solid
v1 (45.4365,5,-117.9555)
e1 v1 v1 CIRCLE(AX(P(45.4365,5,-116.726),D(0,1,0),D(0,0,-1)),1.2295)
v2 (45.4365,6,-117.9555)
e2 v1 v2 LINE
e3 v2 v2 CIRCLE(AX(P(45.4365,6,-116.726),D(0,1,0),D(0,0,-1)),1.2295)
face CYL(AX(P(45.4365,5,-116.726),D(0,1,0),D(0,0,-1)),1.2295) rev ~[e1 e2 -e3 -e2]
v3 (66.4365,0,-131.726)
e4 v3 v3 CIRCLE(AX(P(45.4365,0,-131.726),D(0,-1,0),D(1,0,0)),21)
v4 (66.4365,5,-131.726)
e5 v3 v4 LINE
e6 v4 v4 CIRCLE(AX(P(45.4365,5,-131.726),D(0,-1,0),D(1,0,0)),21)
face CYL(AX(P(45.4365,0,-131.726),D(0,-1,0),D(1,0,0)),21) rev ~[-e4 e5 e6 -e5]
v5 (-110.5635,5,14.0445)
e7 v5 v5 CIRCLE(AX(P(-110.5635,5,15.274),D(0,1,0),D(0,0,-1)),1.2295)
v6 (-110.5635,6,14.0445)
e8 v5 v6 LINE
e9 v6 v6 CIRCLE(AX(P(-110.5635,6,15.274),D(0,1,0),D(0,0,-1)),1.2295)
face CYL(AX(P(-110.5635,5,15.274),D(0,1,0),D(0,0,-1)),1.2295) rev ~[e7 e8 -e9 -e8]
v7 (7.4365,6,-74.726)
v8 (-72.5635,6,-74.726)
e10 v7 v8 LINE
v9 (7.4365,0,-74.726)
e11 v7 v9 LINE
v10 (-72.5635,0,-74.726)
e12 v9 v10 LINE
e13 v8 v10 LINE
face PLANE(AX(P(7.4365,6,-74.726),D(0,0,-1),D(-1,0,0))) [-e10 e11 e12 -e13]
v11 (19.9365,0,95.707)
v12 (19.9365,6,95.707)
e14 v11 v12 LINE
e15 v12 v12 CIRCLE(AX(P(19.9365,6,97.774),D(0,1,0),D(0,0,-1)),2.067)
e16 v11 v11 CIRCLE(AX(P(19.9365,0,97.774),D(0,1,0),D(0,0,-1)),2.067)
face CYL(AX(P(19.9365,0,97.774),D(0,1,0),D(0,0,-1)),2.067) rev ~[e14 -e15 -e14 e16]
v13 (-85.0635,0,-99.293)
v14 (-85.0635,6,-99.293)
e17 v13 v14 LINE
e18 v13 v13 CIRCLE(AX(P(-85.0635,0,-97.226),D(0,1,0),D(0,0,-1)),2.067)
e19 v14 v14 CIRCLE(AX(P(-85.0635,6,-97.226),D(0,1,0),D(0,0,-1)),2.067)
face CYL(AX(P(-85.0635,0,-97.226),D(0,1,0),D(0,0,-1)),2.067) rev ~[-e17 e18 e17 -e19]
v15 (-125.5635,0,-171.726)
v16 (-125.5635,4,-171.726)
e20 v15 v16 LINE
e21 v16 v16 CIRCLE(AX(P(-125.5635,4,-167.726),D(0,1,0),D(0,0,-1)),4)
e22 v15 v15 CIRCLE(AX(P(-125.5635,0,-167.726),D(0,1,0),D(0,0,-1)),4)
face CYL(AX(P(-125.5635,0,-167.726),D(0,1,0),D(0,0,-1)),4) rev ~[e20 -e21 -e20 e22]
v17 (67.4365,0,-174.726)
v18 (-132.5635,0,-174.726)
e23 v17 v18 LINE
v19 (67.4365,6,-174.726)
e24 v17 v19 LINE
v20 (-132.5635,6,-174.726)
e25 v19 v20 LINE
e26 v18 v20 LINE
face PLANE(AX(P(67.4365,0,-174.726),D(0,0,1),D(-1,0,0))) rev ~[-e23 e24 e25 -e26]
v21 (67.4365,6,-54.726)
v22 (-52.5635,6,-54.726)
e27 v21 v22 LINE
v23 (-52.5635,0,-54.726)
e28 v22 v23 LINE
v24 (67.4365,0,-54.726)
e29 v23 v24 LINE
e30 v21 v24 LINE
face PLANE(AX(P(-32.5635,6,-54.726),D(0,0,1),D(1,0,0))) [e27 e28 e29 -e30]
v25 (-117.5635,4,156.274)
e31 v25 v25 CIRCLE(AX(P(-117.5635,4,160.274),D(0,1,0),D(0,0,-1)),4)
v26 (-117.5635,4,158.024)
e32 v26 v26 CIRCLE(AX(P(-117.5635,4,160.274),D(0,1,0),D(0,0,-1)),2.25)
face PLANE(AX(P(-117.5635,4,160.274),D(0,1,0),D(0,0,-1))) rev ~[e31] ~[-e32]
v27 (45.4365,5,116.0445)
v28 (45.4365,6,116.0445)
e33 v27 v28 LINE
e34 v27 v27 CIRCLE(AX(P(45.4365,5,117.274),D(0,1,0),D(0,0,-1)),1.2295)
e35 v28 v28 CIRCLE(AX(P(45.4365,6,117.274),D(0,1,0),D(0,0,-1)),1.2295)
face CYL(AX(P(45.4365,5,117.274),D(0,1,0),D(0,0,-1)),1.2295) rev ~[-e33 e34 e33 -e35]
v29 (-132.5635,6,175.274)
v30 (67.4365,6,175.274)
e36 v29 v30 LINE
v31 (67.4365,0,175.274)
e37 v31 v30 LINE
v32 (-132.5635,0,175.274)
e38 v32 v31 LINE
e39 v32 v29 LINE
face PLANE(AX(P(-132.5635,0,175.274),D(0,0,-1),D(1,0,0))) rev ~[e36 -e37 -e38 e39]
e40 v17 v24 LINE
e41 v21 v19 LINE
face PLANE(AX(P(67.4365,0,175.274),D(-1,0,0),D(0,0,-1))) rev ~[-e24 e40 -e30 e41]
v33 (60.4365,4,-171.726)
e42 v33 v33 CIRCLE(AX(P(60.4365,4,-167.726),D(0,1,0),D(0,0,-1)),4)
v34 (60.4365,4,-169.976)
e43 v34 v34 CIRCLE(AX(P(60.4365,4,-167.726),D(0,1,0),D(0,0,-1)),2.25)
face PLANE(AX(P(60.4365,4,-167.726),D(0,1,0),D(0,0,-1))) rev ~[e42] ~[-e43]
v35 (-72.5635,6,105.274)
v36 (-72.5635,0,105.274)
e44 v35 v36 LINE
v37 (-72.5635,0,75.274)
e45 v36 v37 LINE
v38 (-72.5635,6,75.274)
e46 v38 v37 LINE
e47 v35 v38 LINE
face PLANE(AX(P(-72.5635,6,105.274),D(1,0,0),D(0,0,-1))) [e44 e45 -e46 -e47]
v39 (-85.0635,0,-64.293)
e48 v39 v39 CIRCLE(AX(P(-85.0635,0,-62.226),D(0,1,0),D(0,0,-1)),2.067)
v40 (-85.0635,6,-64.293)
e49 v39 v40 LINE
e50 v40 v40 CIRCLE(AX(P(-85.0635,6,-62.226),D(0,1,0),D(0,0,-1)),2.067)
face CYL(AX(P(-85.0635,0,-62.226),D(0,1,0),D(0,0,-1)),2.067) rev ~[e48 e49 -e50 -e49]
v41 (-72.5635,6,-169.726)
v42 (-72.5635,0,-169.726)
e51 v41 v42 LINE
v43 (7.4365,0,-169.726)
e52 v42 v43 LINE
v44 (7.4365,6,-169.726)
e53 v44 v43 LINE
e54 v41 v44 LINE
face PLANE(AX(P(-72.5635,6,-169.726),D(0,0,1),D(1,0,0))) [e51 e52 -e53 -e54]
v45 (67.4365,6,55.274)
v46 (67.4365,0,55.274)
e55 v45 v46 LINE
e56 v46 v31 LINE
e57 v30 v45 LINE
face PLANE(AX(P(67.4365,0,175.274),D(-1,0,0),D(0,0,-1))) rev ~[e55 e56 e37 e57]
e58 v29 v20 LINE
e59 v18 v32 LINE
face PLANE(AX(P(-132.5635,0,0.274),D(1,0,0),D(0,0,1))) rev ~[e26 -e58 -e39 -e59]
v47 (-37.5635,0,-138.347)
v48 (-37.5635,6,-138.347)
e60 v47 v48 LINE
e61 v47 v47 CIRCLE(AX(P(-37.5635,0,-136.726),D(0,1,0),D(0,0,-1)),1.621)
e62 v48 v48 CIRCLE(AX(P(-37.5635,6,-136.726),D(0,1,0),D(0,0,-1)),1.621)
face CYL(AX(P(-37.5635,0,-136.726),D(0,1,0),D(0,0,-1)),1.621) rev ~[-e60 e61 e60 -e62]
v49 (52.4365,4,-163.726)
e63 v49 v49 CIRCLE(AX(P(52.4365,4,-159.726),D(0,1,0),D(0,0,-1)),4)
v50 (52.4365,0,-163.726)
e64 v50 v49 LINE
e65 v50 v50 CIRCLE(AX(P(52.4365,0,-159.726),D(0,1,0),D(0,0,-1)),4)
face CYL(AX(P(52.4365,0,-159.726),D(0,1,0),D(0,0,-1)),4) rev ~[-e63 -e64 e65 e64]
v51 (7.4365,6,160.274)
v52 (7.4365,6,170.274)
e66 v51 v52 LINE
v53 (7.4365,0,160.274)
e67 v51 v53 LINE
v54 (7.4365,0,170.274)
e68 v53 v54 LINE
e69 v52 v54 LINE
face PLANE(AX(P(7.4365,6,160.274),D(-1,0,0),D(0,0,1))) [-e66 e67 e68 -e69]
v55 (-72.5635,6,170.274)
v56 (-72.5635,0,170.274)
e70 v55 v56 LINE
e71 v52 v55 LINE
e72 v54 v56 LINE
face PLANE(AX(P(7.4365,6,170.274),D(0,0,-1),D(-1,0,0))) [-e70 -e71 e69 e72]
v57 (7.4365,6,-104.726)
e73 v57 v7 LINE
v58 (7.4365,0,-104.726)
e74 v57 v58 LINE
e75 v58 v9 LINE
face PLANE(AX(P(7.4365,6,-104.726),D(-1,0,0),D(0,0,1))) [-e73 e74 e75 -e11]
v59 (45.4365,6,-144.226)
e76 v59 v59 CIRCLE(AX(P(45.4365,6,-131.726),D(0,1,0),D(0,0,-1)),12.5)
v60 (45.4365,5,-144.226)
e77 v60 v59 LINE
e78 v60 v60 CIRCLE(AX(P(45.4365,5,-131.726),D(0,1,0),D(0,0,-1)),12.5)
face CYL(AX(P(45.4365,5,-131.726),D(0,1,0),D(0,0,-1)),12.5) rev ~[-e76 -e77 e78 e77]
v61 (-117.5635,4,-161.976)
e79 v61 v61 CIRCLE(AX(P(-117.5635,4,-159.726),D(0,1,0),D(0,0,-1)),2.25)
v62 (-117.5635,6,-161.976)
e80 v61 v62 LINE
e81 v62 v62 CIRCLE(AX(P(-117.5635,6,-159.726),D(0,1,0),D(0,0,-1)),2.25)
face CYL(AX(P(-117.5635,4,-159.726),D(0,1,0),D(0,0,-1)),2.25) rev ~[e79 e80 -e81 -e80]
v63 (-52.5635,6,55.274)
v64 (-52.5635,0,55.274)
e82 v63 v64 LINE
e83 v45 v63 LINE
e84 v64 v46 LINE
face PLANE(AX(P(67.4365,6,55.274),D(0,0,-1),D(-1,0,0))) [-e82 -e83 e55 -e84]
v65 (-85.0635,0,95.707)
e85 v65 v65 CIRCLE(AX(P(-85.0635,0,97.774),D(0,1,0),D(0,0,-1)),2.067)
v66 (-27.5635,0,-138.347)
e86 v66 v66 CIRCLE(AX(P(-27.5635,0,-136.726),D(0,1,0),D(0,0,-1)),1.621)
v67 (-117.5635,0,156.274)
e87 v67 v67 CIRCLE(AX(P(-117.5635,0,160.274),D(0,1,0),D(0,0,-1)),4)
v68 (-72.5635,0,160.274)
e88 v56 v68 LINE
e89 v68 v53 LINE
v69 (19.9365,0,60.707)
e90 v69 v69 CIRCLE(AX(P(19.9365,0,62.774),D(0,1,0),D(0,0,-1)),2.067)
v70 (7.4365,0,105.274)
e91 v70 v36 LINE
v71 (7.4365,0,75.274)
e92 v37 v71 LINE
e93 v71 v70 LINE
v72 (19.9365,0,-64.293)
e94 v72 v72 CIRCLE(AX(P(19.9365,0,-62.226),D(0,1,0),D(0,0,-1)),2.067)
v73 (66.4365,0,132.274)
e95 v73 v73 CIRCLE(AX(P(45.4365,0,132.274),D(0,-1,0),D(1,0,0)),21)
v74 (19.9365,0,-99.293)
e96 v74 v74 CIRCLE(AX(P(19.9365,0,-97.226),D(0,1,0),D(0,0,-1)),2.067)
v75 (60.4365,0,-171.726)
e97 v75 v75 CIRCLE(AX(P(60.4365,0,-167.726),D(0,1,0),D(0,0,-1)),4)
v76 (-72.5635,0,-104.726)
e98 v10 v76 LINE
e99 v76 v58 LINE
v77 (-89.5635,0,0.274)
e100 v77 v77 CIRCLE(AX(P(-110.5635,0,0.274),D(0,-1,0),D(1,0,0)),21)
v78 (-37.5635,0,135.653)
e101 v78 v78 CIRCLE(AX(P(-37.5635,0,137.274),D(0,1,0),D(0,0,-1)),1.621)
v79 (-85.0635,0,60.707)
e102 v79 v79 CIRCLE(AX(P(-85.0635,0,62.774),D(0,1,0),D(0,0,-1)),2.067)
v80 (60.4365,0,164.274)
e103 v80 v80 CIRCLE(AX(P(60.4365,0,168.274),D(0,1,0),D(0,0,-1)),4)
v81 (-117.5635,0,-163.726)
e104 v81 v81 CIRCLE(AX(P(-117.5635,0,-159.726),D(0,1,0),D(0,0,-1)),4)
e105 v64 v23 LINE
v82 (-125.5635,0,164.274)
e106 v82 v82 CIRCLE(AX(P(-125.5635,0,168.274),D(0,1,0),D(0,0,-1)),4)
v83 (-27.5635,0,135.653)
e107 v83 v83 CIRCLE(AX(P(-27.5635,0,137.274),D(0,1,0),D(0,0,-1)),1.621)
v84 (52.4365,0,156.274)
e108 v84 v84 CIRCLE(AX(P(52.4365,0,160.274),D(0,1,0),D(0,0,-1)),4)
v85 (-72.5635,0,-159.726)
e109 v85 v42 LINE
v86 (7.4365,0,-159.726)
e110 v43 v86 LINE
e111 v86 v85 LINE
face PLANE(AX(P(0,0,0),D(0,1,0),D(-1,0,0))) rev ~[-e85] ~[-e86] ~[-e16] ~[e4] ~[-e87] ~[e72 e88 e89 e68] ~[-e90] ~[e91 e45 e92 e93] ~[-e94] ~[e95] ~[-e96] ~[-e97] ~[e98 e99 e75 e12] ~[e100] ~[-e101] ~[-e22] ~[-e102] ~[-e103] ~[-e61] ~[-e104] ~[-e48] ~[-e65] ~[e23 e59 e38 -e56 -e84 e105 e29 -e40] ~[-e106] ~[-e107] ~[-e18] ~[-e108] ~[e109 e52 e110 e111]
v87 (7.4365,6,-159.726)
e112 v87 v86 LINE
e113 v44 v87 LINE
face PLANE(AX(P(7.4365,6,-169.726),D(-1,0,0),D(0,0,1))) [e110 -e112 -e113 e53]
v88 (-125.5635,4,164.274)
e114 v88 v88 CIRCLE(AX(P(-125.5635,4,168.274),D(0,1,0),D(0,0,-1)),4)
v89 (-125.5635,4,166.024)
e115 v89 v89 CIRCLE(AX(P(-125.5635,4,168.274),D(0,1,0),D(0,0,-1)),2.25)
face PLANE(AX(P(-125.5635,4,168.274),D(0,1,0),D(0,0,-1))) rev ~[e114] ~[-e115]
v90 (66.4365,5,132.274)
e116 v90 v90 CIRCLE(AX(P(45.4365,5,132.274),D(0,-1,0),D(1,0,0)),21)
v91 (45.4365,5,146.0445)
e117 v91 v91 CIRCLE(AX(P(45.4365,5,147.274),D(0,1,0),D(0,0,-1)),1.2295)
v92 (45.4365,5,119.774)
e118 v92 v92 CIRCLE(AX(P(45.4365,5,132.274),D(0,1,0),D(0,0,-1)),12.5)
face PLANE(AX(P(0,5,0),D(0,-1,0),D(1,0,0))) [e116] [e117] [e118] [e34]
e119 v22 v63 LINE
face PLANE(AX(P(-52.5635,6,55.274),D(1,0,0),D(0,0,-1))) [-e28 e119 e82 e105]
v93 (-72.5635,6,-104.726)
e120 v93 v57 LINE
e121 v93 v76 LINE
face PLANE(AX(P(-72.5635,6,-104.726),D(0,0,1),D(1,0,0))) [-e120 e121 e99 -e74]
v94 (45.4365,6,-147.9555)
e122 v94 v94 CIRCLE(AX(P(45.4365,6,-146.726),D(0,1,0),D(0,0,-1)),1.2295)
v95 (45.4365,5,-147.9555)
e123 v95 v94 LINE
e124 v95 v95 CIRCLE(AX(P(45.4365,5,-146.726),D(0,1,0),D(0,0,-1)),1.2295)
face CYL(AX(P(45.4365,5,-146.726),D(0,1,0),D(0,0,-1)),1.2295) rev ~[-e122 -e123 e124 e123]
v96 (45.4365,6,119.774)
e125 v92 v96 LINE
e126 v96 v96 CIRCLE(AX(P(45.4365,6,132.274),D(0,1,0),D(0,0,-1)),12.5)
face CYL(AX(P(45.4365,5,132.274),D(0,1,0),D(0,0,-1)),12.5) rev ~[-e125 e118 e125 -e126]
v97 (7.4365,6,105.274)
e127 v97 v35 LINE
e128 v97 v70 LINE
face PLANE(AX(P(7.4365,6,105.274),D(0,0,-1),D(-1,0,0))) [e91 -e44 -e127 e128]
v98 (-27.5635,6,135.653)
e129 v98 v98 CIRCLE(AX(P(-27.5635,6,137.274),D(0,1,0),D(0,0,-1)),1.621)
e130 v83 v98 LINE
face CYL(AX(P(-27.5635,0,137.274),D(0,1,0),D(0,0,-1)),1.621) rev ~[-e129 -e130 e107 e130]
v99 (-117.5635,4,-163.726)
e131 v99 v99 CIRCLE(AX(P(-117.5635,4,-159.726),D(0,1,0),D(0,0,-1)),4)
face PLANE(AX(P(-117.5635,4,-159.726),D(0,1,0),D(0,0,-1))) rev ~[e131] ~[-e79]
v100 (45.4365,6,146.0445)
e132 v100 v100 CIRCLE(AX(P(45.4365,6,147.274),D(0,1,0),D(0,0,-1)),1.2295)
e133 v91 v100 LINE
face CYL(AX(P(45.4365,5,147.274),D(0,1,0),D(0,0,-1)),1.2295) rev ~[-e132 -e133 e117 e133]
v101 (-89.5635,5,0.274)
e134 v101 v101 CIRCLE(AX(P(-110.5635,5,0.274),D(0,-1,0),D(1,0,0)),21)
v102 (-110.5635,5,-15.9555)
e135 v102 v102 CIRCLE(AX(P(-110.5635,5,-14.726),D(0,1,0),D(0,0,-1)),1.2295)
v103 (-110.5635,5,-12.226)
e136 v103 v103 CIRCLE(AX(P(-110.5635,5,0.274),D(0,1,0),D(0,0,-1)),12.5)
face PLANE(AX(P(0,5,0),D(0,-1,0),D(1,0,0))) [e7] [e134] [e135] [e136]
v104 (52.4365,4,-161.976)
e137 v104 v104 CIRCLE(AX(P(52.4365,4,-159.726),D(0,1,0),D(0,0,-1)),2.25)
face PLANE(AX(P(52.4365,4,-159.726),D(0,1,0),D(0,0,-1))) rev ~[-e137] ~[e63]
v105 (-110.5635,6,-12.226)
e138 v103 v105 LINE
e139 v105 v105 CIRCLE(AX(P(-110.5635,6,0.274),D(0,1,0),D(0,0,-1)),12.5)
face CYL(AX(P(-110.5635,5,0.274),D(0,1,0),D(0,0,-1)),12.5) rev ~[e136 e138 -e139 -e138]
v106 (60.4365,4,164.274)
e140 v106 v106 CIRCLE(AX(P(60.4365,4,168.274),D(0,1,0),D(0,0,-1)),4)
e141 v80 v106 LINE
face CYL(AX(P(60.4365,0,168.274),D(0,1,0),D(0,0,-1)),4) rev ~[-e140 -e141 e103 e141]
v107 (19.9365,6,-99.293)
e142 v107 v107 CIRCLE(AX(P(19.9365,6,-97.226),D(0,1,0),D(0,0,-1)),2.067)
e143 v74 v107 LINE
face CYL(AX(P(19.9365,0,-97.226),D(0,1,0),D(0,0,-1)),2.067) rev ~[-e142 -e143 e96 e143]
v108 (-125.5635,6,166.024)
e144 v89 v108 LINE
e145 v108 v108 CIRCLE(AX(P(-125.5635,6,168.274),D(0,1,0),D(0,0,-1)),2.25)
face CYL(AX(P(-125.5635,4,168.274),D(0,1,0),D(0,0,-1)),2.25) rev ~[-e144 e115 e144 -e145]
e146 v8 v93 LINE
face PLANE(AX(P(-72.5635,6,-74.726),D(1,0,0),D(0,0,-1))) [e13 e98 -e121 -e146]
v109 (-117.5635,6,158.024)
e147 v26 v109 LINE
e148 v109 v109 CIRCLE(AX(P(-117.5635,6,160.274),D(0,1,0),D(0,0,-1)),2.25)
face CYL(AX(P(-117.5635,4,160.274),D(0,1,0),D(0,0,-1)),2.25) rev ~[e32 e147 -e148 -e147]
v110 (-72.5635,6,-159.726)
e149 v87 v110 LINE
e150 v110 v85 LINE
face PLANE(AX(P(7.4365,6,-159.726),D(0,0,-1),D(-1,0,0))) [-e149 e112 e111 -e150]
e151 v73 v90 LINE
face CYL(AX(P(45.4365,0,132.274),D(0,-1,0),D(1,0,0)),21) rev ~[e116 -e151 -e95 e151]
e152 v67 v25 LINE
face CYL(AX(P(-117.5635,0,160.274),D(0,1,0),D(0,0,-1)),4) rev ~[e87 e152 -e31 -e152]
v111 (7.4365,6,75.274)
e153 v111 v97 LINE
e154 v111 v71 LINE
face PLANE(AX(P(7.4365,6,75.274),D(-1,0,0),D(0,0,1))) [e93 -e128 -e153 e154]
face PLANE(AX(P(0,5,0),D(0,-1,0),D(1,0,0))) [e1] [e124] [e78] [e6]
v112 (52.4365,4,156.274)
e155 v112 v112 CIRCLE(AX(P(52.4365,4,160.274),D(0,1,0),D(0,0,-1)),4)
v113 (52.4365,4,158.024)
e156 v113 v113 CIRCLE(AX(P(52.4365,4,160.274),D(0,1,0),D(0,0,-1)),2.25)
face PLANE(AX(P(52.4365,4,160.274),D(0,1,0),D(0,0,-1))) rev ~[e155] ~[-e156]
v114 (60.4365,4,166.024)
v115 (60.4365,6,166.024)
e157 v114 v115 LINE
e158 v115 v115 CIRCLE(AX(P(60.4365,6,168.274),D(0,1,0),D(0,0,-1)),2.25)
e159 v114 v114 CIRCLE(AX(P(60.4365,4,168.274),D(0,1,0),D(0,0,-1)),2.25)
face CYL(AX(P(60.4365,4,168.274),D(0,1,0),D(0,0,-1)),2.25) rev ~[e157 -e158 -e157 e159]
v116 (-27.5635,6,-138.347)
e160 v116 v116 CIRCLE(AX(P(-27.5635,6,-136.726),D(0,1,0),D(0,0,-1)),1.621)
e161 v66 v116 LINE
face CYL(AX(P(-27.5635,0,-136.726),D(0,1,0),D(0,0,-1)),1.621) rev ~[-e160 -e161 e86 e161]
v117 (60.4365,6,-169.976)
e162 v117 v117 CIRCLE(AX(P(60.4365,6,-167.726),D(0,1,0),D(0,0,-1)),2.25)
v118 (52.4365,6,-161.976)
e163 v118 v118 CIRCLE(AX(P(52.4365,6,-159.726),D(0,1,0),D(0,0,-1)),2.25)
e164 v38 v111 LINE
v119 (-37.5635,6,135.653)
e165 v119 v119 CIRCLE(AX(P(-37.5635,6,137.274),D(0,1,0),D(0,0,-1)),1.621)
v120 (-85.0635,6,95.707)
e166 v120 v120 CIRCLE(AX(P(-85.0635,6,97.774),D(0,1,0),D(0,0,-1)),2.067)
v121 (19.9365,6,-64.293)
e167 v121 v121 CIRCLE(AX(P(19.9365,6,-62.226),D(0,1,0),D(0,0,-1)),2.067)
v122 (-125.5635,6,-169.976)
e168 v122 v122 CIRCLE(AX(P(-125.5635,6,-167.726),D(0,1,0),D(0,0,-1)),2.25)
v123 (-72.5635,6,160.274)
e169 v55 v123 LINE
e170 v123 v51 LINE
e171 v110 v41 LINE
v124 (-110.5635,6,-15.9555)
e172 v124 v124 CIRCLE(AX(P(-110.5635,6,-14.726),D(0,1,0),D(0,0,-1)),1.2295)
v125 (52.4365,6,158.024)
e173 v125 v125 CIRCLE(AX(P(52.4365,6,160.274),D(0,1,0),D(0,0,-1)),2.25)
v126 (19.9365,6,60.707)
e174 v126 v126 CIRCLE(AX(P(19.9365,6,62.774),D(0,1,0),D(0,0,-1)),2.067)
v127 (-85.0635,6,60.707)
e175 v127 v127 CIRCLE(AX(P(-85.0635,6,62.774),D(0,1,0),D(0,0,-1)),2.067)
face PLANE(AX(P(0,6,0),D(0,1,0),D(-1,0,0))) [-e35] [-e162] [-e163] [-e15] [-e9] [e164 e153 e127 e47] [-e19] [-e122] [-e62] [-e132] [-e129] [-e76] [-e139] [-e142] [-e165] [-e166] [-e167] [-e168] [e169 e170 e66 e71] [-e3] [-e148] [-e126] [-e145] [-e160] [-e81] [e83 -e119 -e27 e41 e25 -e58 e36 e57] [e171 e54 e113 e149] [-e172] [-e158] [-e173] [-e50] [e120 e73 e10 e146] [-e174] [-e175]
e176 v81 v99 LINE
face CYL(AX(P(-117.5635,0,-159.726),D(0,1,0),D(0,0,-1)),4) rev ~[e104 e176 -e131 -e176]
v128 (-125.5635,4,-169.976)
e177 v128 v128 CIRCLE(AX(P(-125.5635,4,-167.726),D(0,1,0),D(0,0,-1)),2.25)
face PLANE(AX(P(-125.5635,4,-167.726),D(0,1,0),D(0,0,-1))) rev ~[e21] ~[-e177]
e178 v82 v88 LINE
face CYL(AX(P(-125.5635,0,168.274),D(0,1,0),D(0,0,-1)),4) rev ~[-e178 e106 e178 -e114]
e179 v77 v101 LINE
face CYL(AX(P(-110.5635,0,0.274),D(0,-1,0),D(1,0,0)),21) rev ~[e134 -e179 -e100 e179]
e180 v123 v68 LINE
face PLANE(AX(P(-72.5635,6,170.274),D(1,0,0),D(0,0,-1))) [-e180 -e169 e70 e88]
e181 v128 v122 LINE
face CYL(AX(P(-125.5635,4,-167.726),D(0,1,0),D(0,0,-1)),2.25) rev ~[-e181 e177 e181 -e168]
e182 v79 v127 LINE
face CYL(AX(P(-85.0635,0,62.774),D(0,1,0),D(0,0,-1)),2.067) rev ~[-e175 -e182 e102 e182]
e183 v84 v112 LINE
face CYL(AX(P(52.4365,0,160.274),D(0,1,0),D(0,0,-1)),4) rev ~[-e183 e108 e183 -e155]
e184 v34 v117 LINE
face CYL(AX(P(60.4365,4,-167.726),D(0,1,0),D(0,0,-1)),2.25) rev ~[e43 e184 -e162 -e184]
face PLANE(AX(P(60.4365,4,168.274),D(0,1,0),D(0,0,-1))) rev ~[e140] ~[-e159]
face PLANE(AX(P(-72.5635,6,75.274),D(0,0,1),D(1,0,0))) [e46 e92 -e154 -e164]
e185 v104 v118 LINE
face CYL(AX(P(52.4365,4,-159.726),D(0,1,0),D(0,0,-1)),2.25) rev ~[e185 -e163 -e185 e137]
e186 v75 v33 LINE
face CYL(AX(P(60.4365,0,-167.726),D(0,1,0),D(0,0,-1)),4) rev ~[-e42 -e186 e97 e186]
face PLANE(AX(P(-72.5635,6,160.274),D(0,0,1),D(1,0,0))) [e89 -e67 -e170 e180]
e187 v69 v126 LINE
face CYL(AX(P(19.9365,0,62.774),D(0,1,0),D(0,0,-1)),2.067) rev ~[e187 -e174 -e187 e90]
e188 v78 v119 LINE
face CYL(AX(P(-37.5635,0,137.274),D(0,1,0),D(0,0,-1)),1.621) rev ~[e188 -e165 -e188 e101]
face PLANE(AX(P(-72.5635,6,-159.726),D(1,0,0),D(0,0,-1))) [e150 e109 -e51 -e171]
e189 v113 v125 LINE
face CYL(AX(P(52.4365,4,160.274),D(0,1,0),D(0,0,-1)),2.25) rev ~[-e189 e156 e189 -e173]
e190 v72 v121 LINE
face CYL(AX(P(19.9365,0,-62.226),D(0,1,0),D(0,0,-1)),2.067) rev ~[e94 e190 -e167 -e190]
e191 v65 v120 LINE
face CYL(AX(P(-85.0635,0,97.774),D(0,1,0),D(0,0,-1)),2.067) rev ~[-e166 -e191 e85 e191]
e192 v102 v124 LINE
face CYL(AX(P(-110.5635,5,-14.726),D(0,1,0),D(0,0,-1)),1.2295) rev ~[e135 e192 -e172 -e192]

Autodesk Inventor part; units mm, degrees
ref_plane "YZ Plane" through (0, 0, 0) normal (1, 0, 0) x (0, 1, 0)
ref_plane "XZ Plane" through (0, 0, 0) normal (0, 1, 0) x (-1, 0, 0)
ref_plane "XY Plane" through (0, 0, 0) normal (0, 0, 1) x (1, 0, 0)
sketch "Skizze1" plane through (0, 0, 0) normal (0, 1, 0) x (-1, 0, 0)
  line L0 (132.5635, 175.274) -> (-67.4365, 175.274)
  line L1 (-67.4365, 175.274) -> (-67.4365, -174.726)
  line L2 (-67.4365, -174.726) -> (132.5635, -174.726)
  line L3 (132.5635, -174.726) -> (132.5635, 175.274)
  line L4 (354.7243, 0.274) -> (-224.9528, 0.274)
  point P0 (0, 0)
  dimension "d0" = 350
  dimension "d1" = 200
  dimension "d2" = 175
  dimension "d3" = 175
extrude "Extrusion1" add sketch "Skizze1" along normal blind 6
sketch "Skizze3" plane through (0, 6, 0) normal (0, 1, 0) x (1, 0, 0)
  point P0 (0, 0)
sketch "Skizze4" plane through (0, 6, 0) normal (0, 1, 0) x (1, 0, 0)
  point P0 (0, 0)
sketch "Skizze5" plane through (0, 6, 0) normal (0, 1, 0) x (1, 0, 0)
  line L0 (140.4629, -0.274) -> (-239.786, -0.274)
  line L1 (-32.5635, -205.6988) -> (-32.5635, 212.7513)
  line L2 (-132.5635, -175.274) -> (67.4365, -175.274) projected
  line L3 (67.4365, 174.726) -> (-132.5635, 174.726) projected
  line L4 (67.4365, -175.274) -> (67.4365, 174.726) projected
  line L5 (-132.5635, 174.726) -> (-132.5635, -175.274) projected
  line L6 (67.4365, -55.274) -> (-52.5635, -55.274)
  line L7 (-52.5635, -55.274) -> (-52.5635, 54.726)
  line L8 (-52.5635, 54.726) -> (67.4365, 54.726)
  line L9 (67.4365, 54.726) -> (67.4365, -55.274)
  point P0 (0, 0)
  point P1 (-127.5635, -175.274)
  point P2 (62.4365, -175.274)
  point P3 (62.4365, 174.726)
  point P4 (-127.5635, 174.726)
  point P5 (67.4365, -170.274)
  point P6 (67.4365, 169.726)
  point P7 (-132.5635, 169.726)
  point P8 (-132.5635, -170.274)
  dimension "d18" = 175
  dimension "d19" = 175
  dimension "d20" = 100
  dimension "d21" = 100
  dimension "d22" = 120
  dimension "d23" = 120
  dimension "d24" = 80
  dimension "d62" = 110
extrude "Extrusion2" cut sketch "Skizze5" against normal blind 6 contours L4 L6 L1 L0 | L0 L1 L8 L4 | L1 L6 L7 L0 | L0 L7 L8 L1
sketch "Skizze10" plane through (0, 6, 0) normal (0, 1, 0) x (1, 0, 0)
  line L0 (7.4365, -170.274) -> (-72.5635, -170.274)
  line L1 (-72.5635, -170.274) -> (-72.5635, -160.274)
  line L2 (-72.5635, -160.274) -> (7.4365, -160.274)
  line L3 (7.4365, -160.274) -> (7.4365, -170.274)
  line L4 (7.4365, 74.726) -> (-72.5635, 74.726)
  line L5 (-72.5635, 74.726) -> (-72.5635, 104.726)
  line L6 (-72.5635, 104.726) -> (7.4365, 104.726)
  line L7 (7.4365, 104.726) -> (7.4365, 74.726)
  line L8 (7.4365, 159.726) -> (-72.5635, 159.726)
  line L9 (-72.5635, 159.726) -> (-72.5635, 169.726)
  line L10 (-72.5635, 169.726) -> (7.4365, 169.726)
  line L11 (7.4365, 169.726) -> (7.4365, 159.726)
  line L12 (-52.5635, 54.726) -> (67.4365, 54.726) construction
  line L13 (67.4365, -175.274) -> (67.4365, -55.274) construction
  line L14 (67.4365, 174.726) -> (-132.5635, 174.726) construction
  line L15 (-132.5635, 174.726) -> (-132.5635, -175.274) construction
  line L16 (-132.5635, -175.274) -> (67.4365, -175.274) construction
  line L17 (67.4365, -55.274) -> (-52.5635, -55.274) construction
  line L18 (-52.5635, -55.274) -> (-52.5635, 54.726) construction
  line L19 (-127.5635, -175.274) -> (62.4365, -175.274) projected
  line L20 (7.4365, -105.274) -> (-72.5635, -105.274)
  line L21 (-72.5635, -105.274) -> (-72.5635, -75.274)
  line L22 (-72.5635, -75.274) -> (7.4365, -75.274)
  line L23 (7.4365, -75.274) -> (7.4365, -105.274)
  line L24 (67.4365, 54.726) -> (67.4365, 174.726) projected
  point P0 (0, 0)
  point P1 (-32.5635, -175.274)
  point P2 (-32.5635, -170.274)
  point P3 (-32.5635, -160.274)
  point P4 (-32.5635, 74.726)
  point P5 (-32.5635, -175.274)
  point P6 (-32.5635, 104.726)
  point P7 (-32.5635, 159.726)
  point P8 (-32.5635, -105.274)
  dimension "d99" = 5
  dimension "d100" = 10
  dimension "d101" = 10
  dimension "d102" = 5
  dimension "d106" = 55
  dimension "d107" = 55
  dimension "d108" = 30
  dimension "d109" = 30
  dimension "d110" = 80
  dimension "d111" = 80
extrude "Extrusion4" cut sketch "Skizze10" against normal through all
sketch "Skizze11" plane through (0, 0, 0) normal (0, -1, 0) x (1, 0, 0)
  line L0 (7.4365, -74.726) -> (7.4365, -104.726) construction
  line L1 (7.4365, -104.726) -> (-72.5635, -104.726) construction
  line L2 (-72.5635, -104.726) -> (-72.5635, -74.726) construction
  line L3 (-72.5635, -74.726) -> (7.4365, -74.726) construction
  line L4 (7.4365, 170.274) -> (7.4365, 160.274) construction
  line L5 (7.4365, 160.274) -> (-72.5635, 160.274) construction
  line L6 (-72.5635, 160.274) -> (-72.5635, 170.274) construction
  line L7 (-72.5635, 170.274) -> (7.4365, 170.274) construction
  line L8 (7.4365, -159.726) -> (7.4365, -169.726) construction
  line L9 (7.4365, -169.726) -> (-72.5635, -169.726) construction
  line L10 (-72.5635, -169.726) -> (-72.5635, -159.726) construction
  line L11 (-72.5635, -159.726) -> (7.4365, -159.726) construction
  line L12 (7.4365, 105.274) -> (7.4365, 75.274) construction
  line L13 (7.4365, 75.274) -> (-72.5635, 75.274) construction
  line L14 (-72.5635, 75.274) -> (-72.5635, 105.274) construction
  line L15 (-72.5635, 105.274) -> (7.4365, 105.274) construction
  line L16 (67.4365, -54.726) -> (-52.5635, -54.726) construction
  line L17 (-52.5635, -54.726) -> (-52.5635, 55.274) construction
  line L18 (-52.5635, 55.274) -> (67.4365, 55.274) construction
  line L19 (67.4365, 175.274) -> (67.4365, 55.274) construction
  line L20 (-132.5635, 175.274) -> (67.4365, 175.274) construction
  line L21 (-132.5635, -174.726) -> (-132.5635, 175.274) construction
  line L22 (67.4365, -174.726) -> (-132.5635, -174.726) construction
  circle A0 centre (-110.5635, 0.274) radius 21
  circle A1 centre (45.4365, 132.274) radius 21
  circle A2 centre (45.4365, -131.726) radius 21
  line L23 (-131.5635, -14.726) -> (-131.5635, 15.274) construction
  line L24 (-132.5635, -169.726) -> (-132.5635, 170.274) construction
  line L25 (66.4365, 132.274) -> (66.4365, 153.274) construction
  line L26 (66.4365, 153.274) -> (45.4365, 153.274) construction
  line L27 (45.4365, -152.726) -> (66.4365, -152.726) construction
  line L28 (66.4365, -152.726) -> (66.4365, -131.726) construction
  line L29 (67.4365, -54.726) -> (67.4365, -174.726) projected
  point P0 (0, 0)
  point P1 (-132.5635, 0.274)
  point P2 (-131.5635, 0.274)
  point P3 (-132.5635, 0.274)
  dimension "d114" = 42
  dimension "d115" = 42
  dimension "d116" = 42
  dimension "d117" = 30
  dimension "d118" = 1
  dimension "d119" = 1
  dimension "d120" = 22
  dimension "d121" = 22
extrude "Extrusion5" cut sketch "Skizze11" against normal blind 5
sketch "Skizze12" plane through (45.4365, 5, -131.726) normal (0, -1, 0) x (1, 0, 0)
  circle A0 centre (0, 0) radius 21 projected
  circle A1 centre (-156, 132) radius 21 projected
  circle A2 centre (0, 264) radius 21 projected
  circle A3 centre (0, 264) radius 21 projected
  point P0 (-45.4365, 131.726)
hole "Bohrung1" at (-110.5635, 5, 0.274) at (45.4365, 5, 132.274) at (45.4365, 5, -131.726) direction (0, 1, 0) diameter 25 end through all
sketch "Skizze13" plane through (0, 0, 0) normal (0, -1, 0) x (1, 0, 0)
  circle A0 centre (45.4365, 132.274) radius 21 construction
  circle A1 centre (-110.5635, 0.274) radius 21 construction
  circle A2 centre (45.4365, -131.726) radius 21 construction
  line L0 (7.4365, -74.726) -> (7.4365, -104.726) construction
  line L1 (7.4365, -104.726) -> (-72.5635, -104.726) construction
  line L2 (-72.5635, -104.726) -> (-72.5635, -74.726) construction
  line L3 (-72.5635, -74.726) -> (7.4365, -74.726) construction
  line L4 (7.4365, 170.274) -> (7.4365, 160.274) construction
  line L5 (7.4365, 160.274) -> (-72.5635, 160.274) construction
  line L6 (-72.5635, 160.274) -> (-72.5635, 170.274) construction
  line L7 (-72.5635, 170.274) -> (7.4365, 170.274) construction
  line L8 (7.4365, -159.726) -> (7.4365, -169.726) construction
  line L9 (7.4365, -169.726) -> (-72.5635, -169.726) construction
  line L10 (-72.5635, -169.726) -> (-72.5635, -159.726) construction
  line L11 (-72.5635, -159.726) -> (7.4365, -159.726) construction
  line L12 (7.4365, 105.274) -> (7.4365, 75.274) construction
  line L13 (7.4365, 75.274) -> (-72.5635, 75.274) construction
  line L14 (-72.5635, 75.274) -> (-72.5635, 105.274) construction
  line L15 (-72.5635, 105.274) -> (7.4365, 105.274) construction
  line L16 (67.4365, -54.726) -> (-52.5635, -54.726) construction
  line L17 (-52.5635, -54.726) -> (-52.5635, 55.274) construction
  line L18 (-52.5635, 55.274) -> (67.4365, 55.274) construction
  line L19 (67.4365, 175.274) -> (67.4365, 55.274) construction
  line L20 (-132.5635, 175.274) -> (67.4365, 175.274) construction
  line L21 (-132.5635, -174.726) -> (-132.5635, 175.274) construction
  line L22 (67.4365, -174.726) -> (-132.5635, -174.726) construction
  line L23 (67.4365, -54.726) -> (67.4365, -174.726) projected
  point P0 (0, 0)
  point P1 (-125.5635, -167.726)
  point P2 (-117.5635, -159.726)
  point P3 (-125.5635, 168.274)
  point P4 (-117.5635, 160.274)
  point P5 (52.4365, 160.274)
  point P6 (60.4365, 168.274)
  point P7 (60.4365, -167.726)
  point P8 (52.4365, -159.726)
  dimension "d131" = 7
  dimension "d132" = 7
  dimension "d133" = 15
  dimension "d134" = 15
  dimension "d135" = 7
  dimension "d136" = 7
  dimension "d137" = 7
  dimension "d138" = 7
  dimension "d140" = 7
  dimension "d141" = 15
  dimension "d142" = 15
  dimension "d143" = 15
  dimension "d144" = 15
  dimension "d146" = 15
hole "Bohrung2" at (60.4365, 0, -167.726) at (52.4365, 0, -159.726) at (-117.5635, 0, -159.726) at (-125.5635, 0, -167.726) at (-117.5635, 0, 160.274) at (-125.5635, 0, 168.274) at (52.4365, 0, 160.274) at (60.4365, 0, 168.274) direction (0, 1, 0) diameter 4.5 end through all counterbore diameter 8 counterbore depth 4
sketch "Skizze14" plane through (0, 0, 0) normal (0, -1, 0) x (1, 0, 0)
  circle A0 centre (52.4365, 160.274) radius 4 construction
  circle A1 centre (-117.5635, 160.274) radius 4 construction
  circle A2 centre (-117.5635, -159.726) radius 4 construction
  circle A3 centre (60.4365, -167.726) radius 4 construction
  circle A4 centre (52.4365, -159.726) radius 4 construction
  circle A5 centre (-125.5635, -167.726) radius 4 construction
  circle A6 centre (-125.5635, 168.274) radius 4 construction
  circle A7 centre (60.4365, 168.274) radius 4 construction
  circle A8 centre (45.4365, 132.274) radius 21 construction
  circle A9 centre (-110.5635, 0.274) radius 21 construction
  circle A10 centre (45.4365, -131.726) radius 21 construction
  line L0 (7.4365, -74.726) -> (7.4365, -104.726) construction
  line L1 (7.4365, -104.726) -> (-72.5635, -104.726) construction
  line L2 (-72.5635, -104.726) -> (-72.5635, -74.726) construction
  line L3 (-72.5635, -74.726) -> (7.4365, -74.726) construction
  line L4 (7.4365, 170.274) -> (7.4365, 160.274) construction
  line L5 (7.4365, 160.274) -> (-72.5635, 160.274) construction
  line L6 (-72.5635, 160.274) -> (-72.5635, 170.274) construction
  line L7 (-72.5635, 170.274) -> (7.4365, 170.274) construction
  line L8 (7.4365, -159.726) -> (7.4365, -169.726) construction
  line L9 (7.4365, -169.726) -> (-72.5635, -169.726) construction
  line L10 (-72.5635, -169.726) -> (-72.5635, -159.726) construction
  line L11 (-72.5635, -159.726) -> (7.4365, -159.726) construction
  line L12 (7.4365, 105.274) -> (7.4365, 75.274) construction
  line L13 (7.4365, 75.274) -> (-72.5635, 75.274) construction
  line L14 (-72.5635, 75.274) -> (-72.5635, 105.274) construction
  line L15 (-72.5635, 105.274) -> (7.4365, 105.274) construction
  line L16 (67.4365, -54.726) -> (-52.5635, -54.726) construction
  line L17 (-52.5635, -54.726) -> (-52.5635, 55.274) construction
  line L18 (-52.5635, 55.274) -> (67.4365, 55.274) construction
  line L19 (67.4365, 175.274) -> (67.4365, 55.274) construction
  line L20 (-132.5635, 175.274) -> (67.4365, 175.274) construction
  line L21 (-132.5635, -174.726) -> (-132.5635, 175.274) construction
  line L22 (67.4365, -174.726) -> (-132.5635, -174.726) construction
  line L23 (-32.5635, 105.274) -> (-32.5635, 75.274) construction
  line L24 (67.4365, -54.726) -> (67.4365, -174.726) projected
  point P0 (0, 0)
  point P1 (-85.0635, -97.226)
  point P2 (-85.0635, -62.226)
  point P3 (19.9365, -97.226)
  point P4 (19.9365, -62.226)
  point P5 (-85.0635, 62.774)
  point P6 (-85.0635, 97.774)
  point P7 (19.9365, 62.774)
  point P8 (19.9365, 97.774)
  dimension "d154" = 105
  dimension "d155" = 35
  dimension "d156" = 35
  dimension "d157" = 7.5
  dimension "d158" = 7.5
hole "Bohrung3" at (-85.0635, 0, -97.226) at (-85.0635, 0, -62.226) at (19.9365, 0, -97.226) at (19.9365, 0, -62.226) at (19.9365, 0, 62.774) at (19.9365, 0, 97.774) at (-85.0635, 0, 62.774) at (-85.0635, 0, 97.774) direction (0, 1, 0) diameter 4.134 depth 14.2 tip angle 118 thread size "M5x0.8" class "6H" standard "ISO Metric profile"
sketch "Skizze15" plane through (45.4365, 5, -131.726) normal (0, -1, 0) x (1, 0, 0)
  circle A0 centre (0, 264) radius 12.5 construction
  circle A1 centre (0, 0) radius 21 construction
  circle A2 centre (0, 0) radius 12.5 construction
  circle A3 centre (-156, 132) radius 21 construction
  circle A4 centre (-156, 132) radius 12.5 construction
  circle A5 centre (0, 264) radius 21 construction
  line L0 (0, -21) -> (0, 21) construction
  line L1 (-156, 111) -> (-156, 153) construction
  line L2 (0, 243) -> (0, 285) construction
  line L3 (-21, 264) -> (21, 264) construction
  line L4 (-177, 132) -> (-135, 132) construction
  line L5 (-178, -43) -> (-178, 307) construction
  line L6 (-21, 0) -> (21, 0) construction
  line L7 (22, 77) -> (22, 187) construction
  point P0 (-45.4365, 131.726)
  point P1 (0, 15)
  point P2 (0, -15)
  point P3 (-156, 117)
  point P4 (-156, 147)
  point P5 (0, 249)
  point P6 (0, 279)
  point P7 (-178, -38)
  point P8 (-178, 302)
  point P9 (22, -38)
  point P10 (0, 0)
  point P11 (0, 264)
  point P12 (-156, 132)
  dimension "d166" = 30
  dimension "d167" = 30
  dimension "d168" = 30
hole "Bohrung4" at (45.4365, 5, -146.726) at (45.4365, 5, -116.726) at (-110.5635, 5, -14.726) at (-110.5635, 5, 15.274) at (45.4365, 5, 117.274) at (45.4365, 5, 147.274) direction (0, 1, 0) diameter 2.459 depth 8.8 tip angle 118 thread size "M3x0.5" class "6H" standard "ISO Metric profile"
sketch "Skizze16" plane through (0, 0, 0) normal (0, -1, 0) x (1, 0, 0)
  circle A0 centre (-85.0635, 62.774) radius 2.067 construction
  circle A1 centre (19.9365, 62.774) radius 2.067 construction
  circle A2 centre (19.9365, -97.226) radius 2.067 construction
  circle A3 centre (-85.0635, -97.226) radius 2.067 construction
  circle A4 centre (-85.0635, -62.226) radius 2.067 construction
  circle A5 centre (19.9365, -62.226) radius 2.067 construction
  circle A6 centre (19.9365, 97.774) radius 2.067 construction
  circle A7 centre (-85.0635, 97.774) radius 2.067 construction
  circle A8 centre (52.4365, 160.274) radius 4 construction
  circle A9 centre (-117.5635, 160.274) radius 4 construction
  circle A10 centre (-117.5635, -159.726) radius 4 construction
  circle A11 centre (60.4365, -167.726) radius 4 construction
  circle A12 centre (52.4365, -159.726) radius 4 construction
  circle A13 centre (-125.5635, -167.726) radius 4 construction
  circle A14 centre (-125.5635, 168.274) radius 4 construction
  circle A15 centre (60.4365, 168.274) radius 4 construction
  circle A16 centre (45.4365, 132.274) radius 21 construction
  circle A17 centre (-110.5635, 0.274) radius 21 construction
  circle A18 centre (45.4365, -131.726) radius 21 construction
  line L0 (7.4365, -74.726) -> (7.4365, -104.726) construction
  line L1 (7.4365, -104.726) -> (-72.5635, -104.726) construction
  line L2 (-72.5635, -104.726) -> (-72.5635, -74.726) construction
  line L3 (-72.5635, -74.726) -> (7.4365, -74.726) construction
  line L4 (7.4365, 170.274) -> (7.4365, 160.274) construction
  line L5 (7.4365, 160.274) -> (-72.5635, 160.274) construction
  line L6 (-72.5635, 160.274) -> (-72.5635, 170.274) construction
  line L7 (-72.5635, 170.274) -> (7.4365, 170.274) construction
  line L8 (7.4365, -159.726) -> (7.4365, -169.726) construction
  line L9 (7.4365, -169.726) -> (-72.5635, -169.726) construction
  line L10 (-72.5635, -169.726) -> (-72.5635, -159.726) construction
  line L11 (-72.5635, -159.726) -> (7.4365, -159.726) construction
  line L12 (7.4365, 105.274) -> (7.4365, 75.274) construction
  line L13 (7.4365, 75.274) -> (-72.5635, 75.274) construction
  line L14 (-72.5635, 75.274) -> (-72.5635, 105.274) construction
  line L15 (-72.5635, 105.274) -> (7.4365, 105.274) construction
  line L16 (67.4365, -54.726) -> (-52.5635, -54.726) construction
  line L17 (-52.5635, -54.726) -> (-52.5635, 55.274) construction
  line L18 (-52.5635, 55.274) -> (67.4365, 55.274) construction
  line L19 (67.4365, 175.274) -> (67.4365, 55.274) construction
  line L20 (-132.5635, 175.274) -> (67.4365, 175.274) construction
  line L21 (-132.5635, -174.726) -> (-132.5635, 175.274) construction
  line L22 (67.4365, -174.726) -> (-132.5635, -174.726) construction
  line L23 (62.4365, -174.726) -> (-127.5635, -174.726) construction
  line L24 (-32.5635, -174.726) -> (-32.5635, 175.274) construction
  line L25 (-127.5635, 175.274) -> (62.4365, 175.274) construction
  line L26 (67.4365, -54.726) -> (67.4365, -174.726) projected
  point P0 (0, 0)
  point P1 (-37.5635, -136.726)
  point P2 (-27.5635, -136.726)
  point P3 (-37.5635, 137.274)
  point P4 (-27.5635, 137.274)
  dimension "d176" = 23
  dimension "d177" = 10
  dimension "d178" = 23
hole "Bohrung5" at (-37.5635, 0, -136.726) at (-27.5635, 0, -136.726) at (-37.5635, 0, 137.274) at (-27.5635, 0, 137.274) direction (0, 1, 0) diameter 3.242 depth 11.8 tip angle 118 thread size "M4x0.7" class "6H" standard "ISO Metric profile"
equation "\"d101\" = d100"
equation "\"d102\" = d99"
equation "\"d107\" = d106"
equation "\"d109\" = d108"
equation "\"d121\" = d120"
equation "\"d132\" = d131"
equation "\"d134\" = d133"
equation "\"d135\" = d131"
equation "\"d136\" = d131"
equation "\"d137\" = d131"
equation "\"d138\" = d131"
equation "\"d140\" = d131"
equation "\"d141\" = d133"
equation "\"d142\" = d133"
equation "\"d143\" = d133"
equation "\"d144\" = d133"
properties part number "Grundplatte"
